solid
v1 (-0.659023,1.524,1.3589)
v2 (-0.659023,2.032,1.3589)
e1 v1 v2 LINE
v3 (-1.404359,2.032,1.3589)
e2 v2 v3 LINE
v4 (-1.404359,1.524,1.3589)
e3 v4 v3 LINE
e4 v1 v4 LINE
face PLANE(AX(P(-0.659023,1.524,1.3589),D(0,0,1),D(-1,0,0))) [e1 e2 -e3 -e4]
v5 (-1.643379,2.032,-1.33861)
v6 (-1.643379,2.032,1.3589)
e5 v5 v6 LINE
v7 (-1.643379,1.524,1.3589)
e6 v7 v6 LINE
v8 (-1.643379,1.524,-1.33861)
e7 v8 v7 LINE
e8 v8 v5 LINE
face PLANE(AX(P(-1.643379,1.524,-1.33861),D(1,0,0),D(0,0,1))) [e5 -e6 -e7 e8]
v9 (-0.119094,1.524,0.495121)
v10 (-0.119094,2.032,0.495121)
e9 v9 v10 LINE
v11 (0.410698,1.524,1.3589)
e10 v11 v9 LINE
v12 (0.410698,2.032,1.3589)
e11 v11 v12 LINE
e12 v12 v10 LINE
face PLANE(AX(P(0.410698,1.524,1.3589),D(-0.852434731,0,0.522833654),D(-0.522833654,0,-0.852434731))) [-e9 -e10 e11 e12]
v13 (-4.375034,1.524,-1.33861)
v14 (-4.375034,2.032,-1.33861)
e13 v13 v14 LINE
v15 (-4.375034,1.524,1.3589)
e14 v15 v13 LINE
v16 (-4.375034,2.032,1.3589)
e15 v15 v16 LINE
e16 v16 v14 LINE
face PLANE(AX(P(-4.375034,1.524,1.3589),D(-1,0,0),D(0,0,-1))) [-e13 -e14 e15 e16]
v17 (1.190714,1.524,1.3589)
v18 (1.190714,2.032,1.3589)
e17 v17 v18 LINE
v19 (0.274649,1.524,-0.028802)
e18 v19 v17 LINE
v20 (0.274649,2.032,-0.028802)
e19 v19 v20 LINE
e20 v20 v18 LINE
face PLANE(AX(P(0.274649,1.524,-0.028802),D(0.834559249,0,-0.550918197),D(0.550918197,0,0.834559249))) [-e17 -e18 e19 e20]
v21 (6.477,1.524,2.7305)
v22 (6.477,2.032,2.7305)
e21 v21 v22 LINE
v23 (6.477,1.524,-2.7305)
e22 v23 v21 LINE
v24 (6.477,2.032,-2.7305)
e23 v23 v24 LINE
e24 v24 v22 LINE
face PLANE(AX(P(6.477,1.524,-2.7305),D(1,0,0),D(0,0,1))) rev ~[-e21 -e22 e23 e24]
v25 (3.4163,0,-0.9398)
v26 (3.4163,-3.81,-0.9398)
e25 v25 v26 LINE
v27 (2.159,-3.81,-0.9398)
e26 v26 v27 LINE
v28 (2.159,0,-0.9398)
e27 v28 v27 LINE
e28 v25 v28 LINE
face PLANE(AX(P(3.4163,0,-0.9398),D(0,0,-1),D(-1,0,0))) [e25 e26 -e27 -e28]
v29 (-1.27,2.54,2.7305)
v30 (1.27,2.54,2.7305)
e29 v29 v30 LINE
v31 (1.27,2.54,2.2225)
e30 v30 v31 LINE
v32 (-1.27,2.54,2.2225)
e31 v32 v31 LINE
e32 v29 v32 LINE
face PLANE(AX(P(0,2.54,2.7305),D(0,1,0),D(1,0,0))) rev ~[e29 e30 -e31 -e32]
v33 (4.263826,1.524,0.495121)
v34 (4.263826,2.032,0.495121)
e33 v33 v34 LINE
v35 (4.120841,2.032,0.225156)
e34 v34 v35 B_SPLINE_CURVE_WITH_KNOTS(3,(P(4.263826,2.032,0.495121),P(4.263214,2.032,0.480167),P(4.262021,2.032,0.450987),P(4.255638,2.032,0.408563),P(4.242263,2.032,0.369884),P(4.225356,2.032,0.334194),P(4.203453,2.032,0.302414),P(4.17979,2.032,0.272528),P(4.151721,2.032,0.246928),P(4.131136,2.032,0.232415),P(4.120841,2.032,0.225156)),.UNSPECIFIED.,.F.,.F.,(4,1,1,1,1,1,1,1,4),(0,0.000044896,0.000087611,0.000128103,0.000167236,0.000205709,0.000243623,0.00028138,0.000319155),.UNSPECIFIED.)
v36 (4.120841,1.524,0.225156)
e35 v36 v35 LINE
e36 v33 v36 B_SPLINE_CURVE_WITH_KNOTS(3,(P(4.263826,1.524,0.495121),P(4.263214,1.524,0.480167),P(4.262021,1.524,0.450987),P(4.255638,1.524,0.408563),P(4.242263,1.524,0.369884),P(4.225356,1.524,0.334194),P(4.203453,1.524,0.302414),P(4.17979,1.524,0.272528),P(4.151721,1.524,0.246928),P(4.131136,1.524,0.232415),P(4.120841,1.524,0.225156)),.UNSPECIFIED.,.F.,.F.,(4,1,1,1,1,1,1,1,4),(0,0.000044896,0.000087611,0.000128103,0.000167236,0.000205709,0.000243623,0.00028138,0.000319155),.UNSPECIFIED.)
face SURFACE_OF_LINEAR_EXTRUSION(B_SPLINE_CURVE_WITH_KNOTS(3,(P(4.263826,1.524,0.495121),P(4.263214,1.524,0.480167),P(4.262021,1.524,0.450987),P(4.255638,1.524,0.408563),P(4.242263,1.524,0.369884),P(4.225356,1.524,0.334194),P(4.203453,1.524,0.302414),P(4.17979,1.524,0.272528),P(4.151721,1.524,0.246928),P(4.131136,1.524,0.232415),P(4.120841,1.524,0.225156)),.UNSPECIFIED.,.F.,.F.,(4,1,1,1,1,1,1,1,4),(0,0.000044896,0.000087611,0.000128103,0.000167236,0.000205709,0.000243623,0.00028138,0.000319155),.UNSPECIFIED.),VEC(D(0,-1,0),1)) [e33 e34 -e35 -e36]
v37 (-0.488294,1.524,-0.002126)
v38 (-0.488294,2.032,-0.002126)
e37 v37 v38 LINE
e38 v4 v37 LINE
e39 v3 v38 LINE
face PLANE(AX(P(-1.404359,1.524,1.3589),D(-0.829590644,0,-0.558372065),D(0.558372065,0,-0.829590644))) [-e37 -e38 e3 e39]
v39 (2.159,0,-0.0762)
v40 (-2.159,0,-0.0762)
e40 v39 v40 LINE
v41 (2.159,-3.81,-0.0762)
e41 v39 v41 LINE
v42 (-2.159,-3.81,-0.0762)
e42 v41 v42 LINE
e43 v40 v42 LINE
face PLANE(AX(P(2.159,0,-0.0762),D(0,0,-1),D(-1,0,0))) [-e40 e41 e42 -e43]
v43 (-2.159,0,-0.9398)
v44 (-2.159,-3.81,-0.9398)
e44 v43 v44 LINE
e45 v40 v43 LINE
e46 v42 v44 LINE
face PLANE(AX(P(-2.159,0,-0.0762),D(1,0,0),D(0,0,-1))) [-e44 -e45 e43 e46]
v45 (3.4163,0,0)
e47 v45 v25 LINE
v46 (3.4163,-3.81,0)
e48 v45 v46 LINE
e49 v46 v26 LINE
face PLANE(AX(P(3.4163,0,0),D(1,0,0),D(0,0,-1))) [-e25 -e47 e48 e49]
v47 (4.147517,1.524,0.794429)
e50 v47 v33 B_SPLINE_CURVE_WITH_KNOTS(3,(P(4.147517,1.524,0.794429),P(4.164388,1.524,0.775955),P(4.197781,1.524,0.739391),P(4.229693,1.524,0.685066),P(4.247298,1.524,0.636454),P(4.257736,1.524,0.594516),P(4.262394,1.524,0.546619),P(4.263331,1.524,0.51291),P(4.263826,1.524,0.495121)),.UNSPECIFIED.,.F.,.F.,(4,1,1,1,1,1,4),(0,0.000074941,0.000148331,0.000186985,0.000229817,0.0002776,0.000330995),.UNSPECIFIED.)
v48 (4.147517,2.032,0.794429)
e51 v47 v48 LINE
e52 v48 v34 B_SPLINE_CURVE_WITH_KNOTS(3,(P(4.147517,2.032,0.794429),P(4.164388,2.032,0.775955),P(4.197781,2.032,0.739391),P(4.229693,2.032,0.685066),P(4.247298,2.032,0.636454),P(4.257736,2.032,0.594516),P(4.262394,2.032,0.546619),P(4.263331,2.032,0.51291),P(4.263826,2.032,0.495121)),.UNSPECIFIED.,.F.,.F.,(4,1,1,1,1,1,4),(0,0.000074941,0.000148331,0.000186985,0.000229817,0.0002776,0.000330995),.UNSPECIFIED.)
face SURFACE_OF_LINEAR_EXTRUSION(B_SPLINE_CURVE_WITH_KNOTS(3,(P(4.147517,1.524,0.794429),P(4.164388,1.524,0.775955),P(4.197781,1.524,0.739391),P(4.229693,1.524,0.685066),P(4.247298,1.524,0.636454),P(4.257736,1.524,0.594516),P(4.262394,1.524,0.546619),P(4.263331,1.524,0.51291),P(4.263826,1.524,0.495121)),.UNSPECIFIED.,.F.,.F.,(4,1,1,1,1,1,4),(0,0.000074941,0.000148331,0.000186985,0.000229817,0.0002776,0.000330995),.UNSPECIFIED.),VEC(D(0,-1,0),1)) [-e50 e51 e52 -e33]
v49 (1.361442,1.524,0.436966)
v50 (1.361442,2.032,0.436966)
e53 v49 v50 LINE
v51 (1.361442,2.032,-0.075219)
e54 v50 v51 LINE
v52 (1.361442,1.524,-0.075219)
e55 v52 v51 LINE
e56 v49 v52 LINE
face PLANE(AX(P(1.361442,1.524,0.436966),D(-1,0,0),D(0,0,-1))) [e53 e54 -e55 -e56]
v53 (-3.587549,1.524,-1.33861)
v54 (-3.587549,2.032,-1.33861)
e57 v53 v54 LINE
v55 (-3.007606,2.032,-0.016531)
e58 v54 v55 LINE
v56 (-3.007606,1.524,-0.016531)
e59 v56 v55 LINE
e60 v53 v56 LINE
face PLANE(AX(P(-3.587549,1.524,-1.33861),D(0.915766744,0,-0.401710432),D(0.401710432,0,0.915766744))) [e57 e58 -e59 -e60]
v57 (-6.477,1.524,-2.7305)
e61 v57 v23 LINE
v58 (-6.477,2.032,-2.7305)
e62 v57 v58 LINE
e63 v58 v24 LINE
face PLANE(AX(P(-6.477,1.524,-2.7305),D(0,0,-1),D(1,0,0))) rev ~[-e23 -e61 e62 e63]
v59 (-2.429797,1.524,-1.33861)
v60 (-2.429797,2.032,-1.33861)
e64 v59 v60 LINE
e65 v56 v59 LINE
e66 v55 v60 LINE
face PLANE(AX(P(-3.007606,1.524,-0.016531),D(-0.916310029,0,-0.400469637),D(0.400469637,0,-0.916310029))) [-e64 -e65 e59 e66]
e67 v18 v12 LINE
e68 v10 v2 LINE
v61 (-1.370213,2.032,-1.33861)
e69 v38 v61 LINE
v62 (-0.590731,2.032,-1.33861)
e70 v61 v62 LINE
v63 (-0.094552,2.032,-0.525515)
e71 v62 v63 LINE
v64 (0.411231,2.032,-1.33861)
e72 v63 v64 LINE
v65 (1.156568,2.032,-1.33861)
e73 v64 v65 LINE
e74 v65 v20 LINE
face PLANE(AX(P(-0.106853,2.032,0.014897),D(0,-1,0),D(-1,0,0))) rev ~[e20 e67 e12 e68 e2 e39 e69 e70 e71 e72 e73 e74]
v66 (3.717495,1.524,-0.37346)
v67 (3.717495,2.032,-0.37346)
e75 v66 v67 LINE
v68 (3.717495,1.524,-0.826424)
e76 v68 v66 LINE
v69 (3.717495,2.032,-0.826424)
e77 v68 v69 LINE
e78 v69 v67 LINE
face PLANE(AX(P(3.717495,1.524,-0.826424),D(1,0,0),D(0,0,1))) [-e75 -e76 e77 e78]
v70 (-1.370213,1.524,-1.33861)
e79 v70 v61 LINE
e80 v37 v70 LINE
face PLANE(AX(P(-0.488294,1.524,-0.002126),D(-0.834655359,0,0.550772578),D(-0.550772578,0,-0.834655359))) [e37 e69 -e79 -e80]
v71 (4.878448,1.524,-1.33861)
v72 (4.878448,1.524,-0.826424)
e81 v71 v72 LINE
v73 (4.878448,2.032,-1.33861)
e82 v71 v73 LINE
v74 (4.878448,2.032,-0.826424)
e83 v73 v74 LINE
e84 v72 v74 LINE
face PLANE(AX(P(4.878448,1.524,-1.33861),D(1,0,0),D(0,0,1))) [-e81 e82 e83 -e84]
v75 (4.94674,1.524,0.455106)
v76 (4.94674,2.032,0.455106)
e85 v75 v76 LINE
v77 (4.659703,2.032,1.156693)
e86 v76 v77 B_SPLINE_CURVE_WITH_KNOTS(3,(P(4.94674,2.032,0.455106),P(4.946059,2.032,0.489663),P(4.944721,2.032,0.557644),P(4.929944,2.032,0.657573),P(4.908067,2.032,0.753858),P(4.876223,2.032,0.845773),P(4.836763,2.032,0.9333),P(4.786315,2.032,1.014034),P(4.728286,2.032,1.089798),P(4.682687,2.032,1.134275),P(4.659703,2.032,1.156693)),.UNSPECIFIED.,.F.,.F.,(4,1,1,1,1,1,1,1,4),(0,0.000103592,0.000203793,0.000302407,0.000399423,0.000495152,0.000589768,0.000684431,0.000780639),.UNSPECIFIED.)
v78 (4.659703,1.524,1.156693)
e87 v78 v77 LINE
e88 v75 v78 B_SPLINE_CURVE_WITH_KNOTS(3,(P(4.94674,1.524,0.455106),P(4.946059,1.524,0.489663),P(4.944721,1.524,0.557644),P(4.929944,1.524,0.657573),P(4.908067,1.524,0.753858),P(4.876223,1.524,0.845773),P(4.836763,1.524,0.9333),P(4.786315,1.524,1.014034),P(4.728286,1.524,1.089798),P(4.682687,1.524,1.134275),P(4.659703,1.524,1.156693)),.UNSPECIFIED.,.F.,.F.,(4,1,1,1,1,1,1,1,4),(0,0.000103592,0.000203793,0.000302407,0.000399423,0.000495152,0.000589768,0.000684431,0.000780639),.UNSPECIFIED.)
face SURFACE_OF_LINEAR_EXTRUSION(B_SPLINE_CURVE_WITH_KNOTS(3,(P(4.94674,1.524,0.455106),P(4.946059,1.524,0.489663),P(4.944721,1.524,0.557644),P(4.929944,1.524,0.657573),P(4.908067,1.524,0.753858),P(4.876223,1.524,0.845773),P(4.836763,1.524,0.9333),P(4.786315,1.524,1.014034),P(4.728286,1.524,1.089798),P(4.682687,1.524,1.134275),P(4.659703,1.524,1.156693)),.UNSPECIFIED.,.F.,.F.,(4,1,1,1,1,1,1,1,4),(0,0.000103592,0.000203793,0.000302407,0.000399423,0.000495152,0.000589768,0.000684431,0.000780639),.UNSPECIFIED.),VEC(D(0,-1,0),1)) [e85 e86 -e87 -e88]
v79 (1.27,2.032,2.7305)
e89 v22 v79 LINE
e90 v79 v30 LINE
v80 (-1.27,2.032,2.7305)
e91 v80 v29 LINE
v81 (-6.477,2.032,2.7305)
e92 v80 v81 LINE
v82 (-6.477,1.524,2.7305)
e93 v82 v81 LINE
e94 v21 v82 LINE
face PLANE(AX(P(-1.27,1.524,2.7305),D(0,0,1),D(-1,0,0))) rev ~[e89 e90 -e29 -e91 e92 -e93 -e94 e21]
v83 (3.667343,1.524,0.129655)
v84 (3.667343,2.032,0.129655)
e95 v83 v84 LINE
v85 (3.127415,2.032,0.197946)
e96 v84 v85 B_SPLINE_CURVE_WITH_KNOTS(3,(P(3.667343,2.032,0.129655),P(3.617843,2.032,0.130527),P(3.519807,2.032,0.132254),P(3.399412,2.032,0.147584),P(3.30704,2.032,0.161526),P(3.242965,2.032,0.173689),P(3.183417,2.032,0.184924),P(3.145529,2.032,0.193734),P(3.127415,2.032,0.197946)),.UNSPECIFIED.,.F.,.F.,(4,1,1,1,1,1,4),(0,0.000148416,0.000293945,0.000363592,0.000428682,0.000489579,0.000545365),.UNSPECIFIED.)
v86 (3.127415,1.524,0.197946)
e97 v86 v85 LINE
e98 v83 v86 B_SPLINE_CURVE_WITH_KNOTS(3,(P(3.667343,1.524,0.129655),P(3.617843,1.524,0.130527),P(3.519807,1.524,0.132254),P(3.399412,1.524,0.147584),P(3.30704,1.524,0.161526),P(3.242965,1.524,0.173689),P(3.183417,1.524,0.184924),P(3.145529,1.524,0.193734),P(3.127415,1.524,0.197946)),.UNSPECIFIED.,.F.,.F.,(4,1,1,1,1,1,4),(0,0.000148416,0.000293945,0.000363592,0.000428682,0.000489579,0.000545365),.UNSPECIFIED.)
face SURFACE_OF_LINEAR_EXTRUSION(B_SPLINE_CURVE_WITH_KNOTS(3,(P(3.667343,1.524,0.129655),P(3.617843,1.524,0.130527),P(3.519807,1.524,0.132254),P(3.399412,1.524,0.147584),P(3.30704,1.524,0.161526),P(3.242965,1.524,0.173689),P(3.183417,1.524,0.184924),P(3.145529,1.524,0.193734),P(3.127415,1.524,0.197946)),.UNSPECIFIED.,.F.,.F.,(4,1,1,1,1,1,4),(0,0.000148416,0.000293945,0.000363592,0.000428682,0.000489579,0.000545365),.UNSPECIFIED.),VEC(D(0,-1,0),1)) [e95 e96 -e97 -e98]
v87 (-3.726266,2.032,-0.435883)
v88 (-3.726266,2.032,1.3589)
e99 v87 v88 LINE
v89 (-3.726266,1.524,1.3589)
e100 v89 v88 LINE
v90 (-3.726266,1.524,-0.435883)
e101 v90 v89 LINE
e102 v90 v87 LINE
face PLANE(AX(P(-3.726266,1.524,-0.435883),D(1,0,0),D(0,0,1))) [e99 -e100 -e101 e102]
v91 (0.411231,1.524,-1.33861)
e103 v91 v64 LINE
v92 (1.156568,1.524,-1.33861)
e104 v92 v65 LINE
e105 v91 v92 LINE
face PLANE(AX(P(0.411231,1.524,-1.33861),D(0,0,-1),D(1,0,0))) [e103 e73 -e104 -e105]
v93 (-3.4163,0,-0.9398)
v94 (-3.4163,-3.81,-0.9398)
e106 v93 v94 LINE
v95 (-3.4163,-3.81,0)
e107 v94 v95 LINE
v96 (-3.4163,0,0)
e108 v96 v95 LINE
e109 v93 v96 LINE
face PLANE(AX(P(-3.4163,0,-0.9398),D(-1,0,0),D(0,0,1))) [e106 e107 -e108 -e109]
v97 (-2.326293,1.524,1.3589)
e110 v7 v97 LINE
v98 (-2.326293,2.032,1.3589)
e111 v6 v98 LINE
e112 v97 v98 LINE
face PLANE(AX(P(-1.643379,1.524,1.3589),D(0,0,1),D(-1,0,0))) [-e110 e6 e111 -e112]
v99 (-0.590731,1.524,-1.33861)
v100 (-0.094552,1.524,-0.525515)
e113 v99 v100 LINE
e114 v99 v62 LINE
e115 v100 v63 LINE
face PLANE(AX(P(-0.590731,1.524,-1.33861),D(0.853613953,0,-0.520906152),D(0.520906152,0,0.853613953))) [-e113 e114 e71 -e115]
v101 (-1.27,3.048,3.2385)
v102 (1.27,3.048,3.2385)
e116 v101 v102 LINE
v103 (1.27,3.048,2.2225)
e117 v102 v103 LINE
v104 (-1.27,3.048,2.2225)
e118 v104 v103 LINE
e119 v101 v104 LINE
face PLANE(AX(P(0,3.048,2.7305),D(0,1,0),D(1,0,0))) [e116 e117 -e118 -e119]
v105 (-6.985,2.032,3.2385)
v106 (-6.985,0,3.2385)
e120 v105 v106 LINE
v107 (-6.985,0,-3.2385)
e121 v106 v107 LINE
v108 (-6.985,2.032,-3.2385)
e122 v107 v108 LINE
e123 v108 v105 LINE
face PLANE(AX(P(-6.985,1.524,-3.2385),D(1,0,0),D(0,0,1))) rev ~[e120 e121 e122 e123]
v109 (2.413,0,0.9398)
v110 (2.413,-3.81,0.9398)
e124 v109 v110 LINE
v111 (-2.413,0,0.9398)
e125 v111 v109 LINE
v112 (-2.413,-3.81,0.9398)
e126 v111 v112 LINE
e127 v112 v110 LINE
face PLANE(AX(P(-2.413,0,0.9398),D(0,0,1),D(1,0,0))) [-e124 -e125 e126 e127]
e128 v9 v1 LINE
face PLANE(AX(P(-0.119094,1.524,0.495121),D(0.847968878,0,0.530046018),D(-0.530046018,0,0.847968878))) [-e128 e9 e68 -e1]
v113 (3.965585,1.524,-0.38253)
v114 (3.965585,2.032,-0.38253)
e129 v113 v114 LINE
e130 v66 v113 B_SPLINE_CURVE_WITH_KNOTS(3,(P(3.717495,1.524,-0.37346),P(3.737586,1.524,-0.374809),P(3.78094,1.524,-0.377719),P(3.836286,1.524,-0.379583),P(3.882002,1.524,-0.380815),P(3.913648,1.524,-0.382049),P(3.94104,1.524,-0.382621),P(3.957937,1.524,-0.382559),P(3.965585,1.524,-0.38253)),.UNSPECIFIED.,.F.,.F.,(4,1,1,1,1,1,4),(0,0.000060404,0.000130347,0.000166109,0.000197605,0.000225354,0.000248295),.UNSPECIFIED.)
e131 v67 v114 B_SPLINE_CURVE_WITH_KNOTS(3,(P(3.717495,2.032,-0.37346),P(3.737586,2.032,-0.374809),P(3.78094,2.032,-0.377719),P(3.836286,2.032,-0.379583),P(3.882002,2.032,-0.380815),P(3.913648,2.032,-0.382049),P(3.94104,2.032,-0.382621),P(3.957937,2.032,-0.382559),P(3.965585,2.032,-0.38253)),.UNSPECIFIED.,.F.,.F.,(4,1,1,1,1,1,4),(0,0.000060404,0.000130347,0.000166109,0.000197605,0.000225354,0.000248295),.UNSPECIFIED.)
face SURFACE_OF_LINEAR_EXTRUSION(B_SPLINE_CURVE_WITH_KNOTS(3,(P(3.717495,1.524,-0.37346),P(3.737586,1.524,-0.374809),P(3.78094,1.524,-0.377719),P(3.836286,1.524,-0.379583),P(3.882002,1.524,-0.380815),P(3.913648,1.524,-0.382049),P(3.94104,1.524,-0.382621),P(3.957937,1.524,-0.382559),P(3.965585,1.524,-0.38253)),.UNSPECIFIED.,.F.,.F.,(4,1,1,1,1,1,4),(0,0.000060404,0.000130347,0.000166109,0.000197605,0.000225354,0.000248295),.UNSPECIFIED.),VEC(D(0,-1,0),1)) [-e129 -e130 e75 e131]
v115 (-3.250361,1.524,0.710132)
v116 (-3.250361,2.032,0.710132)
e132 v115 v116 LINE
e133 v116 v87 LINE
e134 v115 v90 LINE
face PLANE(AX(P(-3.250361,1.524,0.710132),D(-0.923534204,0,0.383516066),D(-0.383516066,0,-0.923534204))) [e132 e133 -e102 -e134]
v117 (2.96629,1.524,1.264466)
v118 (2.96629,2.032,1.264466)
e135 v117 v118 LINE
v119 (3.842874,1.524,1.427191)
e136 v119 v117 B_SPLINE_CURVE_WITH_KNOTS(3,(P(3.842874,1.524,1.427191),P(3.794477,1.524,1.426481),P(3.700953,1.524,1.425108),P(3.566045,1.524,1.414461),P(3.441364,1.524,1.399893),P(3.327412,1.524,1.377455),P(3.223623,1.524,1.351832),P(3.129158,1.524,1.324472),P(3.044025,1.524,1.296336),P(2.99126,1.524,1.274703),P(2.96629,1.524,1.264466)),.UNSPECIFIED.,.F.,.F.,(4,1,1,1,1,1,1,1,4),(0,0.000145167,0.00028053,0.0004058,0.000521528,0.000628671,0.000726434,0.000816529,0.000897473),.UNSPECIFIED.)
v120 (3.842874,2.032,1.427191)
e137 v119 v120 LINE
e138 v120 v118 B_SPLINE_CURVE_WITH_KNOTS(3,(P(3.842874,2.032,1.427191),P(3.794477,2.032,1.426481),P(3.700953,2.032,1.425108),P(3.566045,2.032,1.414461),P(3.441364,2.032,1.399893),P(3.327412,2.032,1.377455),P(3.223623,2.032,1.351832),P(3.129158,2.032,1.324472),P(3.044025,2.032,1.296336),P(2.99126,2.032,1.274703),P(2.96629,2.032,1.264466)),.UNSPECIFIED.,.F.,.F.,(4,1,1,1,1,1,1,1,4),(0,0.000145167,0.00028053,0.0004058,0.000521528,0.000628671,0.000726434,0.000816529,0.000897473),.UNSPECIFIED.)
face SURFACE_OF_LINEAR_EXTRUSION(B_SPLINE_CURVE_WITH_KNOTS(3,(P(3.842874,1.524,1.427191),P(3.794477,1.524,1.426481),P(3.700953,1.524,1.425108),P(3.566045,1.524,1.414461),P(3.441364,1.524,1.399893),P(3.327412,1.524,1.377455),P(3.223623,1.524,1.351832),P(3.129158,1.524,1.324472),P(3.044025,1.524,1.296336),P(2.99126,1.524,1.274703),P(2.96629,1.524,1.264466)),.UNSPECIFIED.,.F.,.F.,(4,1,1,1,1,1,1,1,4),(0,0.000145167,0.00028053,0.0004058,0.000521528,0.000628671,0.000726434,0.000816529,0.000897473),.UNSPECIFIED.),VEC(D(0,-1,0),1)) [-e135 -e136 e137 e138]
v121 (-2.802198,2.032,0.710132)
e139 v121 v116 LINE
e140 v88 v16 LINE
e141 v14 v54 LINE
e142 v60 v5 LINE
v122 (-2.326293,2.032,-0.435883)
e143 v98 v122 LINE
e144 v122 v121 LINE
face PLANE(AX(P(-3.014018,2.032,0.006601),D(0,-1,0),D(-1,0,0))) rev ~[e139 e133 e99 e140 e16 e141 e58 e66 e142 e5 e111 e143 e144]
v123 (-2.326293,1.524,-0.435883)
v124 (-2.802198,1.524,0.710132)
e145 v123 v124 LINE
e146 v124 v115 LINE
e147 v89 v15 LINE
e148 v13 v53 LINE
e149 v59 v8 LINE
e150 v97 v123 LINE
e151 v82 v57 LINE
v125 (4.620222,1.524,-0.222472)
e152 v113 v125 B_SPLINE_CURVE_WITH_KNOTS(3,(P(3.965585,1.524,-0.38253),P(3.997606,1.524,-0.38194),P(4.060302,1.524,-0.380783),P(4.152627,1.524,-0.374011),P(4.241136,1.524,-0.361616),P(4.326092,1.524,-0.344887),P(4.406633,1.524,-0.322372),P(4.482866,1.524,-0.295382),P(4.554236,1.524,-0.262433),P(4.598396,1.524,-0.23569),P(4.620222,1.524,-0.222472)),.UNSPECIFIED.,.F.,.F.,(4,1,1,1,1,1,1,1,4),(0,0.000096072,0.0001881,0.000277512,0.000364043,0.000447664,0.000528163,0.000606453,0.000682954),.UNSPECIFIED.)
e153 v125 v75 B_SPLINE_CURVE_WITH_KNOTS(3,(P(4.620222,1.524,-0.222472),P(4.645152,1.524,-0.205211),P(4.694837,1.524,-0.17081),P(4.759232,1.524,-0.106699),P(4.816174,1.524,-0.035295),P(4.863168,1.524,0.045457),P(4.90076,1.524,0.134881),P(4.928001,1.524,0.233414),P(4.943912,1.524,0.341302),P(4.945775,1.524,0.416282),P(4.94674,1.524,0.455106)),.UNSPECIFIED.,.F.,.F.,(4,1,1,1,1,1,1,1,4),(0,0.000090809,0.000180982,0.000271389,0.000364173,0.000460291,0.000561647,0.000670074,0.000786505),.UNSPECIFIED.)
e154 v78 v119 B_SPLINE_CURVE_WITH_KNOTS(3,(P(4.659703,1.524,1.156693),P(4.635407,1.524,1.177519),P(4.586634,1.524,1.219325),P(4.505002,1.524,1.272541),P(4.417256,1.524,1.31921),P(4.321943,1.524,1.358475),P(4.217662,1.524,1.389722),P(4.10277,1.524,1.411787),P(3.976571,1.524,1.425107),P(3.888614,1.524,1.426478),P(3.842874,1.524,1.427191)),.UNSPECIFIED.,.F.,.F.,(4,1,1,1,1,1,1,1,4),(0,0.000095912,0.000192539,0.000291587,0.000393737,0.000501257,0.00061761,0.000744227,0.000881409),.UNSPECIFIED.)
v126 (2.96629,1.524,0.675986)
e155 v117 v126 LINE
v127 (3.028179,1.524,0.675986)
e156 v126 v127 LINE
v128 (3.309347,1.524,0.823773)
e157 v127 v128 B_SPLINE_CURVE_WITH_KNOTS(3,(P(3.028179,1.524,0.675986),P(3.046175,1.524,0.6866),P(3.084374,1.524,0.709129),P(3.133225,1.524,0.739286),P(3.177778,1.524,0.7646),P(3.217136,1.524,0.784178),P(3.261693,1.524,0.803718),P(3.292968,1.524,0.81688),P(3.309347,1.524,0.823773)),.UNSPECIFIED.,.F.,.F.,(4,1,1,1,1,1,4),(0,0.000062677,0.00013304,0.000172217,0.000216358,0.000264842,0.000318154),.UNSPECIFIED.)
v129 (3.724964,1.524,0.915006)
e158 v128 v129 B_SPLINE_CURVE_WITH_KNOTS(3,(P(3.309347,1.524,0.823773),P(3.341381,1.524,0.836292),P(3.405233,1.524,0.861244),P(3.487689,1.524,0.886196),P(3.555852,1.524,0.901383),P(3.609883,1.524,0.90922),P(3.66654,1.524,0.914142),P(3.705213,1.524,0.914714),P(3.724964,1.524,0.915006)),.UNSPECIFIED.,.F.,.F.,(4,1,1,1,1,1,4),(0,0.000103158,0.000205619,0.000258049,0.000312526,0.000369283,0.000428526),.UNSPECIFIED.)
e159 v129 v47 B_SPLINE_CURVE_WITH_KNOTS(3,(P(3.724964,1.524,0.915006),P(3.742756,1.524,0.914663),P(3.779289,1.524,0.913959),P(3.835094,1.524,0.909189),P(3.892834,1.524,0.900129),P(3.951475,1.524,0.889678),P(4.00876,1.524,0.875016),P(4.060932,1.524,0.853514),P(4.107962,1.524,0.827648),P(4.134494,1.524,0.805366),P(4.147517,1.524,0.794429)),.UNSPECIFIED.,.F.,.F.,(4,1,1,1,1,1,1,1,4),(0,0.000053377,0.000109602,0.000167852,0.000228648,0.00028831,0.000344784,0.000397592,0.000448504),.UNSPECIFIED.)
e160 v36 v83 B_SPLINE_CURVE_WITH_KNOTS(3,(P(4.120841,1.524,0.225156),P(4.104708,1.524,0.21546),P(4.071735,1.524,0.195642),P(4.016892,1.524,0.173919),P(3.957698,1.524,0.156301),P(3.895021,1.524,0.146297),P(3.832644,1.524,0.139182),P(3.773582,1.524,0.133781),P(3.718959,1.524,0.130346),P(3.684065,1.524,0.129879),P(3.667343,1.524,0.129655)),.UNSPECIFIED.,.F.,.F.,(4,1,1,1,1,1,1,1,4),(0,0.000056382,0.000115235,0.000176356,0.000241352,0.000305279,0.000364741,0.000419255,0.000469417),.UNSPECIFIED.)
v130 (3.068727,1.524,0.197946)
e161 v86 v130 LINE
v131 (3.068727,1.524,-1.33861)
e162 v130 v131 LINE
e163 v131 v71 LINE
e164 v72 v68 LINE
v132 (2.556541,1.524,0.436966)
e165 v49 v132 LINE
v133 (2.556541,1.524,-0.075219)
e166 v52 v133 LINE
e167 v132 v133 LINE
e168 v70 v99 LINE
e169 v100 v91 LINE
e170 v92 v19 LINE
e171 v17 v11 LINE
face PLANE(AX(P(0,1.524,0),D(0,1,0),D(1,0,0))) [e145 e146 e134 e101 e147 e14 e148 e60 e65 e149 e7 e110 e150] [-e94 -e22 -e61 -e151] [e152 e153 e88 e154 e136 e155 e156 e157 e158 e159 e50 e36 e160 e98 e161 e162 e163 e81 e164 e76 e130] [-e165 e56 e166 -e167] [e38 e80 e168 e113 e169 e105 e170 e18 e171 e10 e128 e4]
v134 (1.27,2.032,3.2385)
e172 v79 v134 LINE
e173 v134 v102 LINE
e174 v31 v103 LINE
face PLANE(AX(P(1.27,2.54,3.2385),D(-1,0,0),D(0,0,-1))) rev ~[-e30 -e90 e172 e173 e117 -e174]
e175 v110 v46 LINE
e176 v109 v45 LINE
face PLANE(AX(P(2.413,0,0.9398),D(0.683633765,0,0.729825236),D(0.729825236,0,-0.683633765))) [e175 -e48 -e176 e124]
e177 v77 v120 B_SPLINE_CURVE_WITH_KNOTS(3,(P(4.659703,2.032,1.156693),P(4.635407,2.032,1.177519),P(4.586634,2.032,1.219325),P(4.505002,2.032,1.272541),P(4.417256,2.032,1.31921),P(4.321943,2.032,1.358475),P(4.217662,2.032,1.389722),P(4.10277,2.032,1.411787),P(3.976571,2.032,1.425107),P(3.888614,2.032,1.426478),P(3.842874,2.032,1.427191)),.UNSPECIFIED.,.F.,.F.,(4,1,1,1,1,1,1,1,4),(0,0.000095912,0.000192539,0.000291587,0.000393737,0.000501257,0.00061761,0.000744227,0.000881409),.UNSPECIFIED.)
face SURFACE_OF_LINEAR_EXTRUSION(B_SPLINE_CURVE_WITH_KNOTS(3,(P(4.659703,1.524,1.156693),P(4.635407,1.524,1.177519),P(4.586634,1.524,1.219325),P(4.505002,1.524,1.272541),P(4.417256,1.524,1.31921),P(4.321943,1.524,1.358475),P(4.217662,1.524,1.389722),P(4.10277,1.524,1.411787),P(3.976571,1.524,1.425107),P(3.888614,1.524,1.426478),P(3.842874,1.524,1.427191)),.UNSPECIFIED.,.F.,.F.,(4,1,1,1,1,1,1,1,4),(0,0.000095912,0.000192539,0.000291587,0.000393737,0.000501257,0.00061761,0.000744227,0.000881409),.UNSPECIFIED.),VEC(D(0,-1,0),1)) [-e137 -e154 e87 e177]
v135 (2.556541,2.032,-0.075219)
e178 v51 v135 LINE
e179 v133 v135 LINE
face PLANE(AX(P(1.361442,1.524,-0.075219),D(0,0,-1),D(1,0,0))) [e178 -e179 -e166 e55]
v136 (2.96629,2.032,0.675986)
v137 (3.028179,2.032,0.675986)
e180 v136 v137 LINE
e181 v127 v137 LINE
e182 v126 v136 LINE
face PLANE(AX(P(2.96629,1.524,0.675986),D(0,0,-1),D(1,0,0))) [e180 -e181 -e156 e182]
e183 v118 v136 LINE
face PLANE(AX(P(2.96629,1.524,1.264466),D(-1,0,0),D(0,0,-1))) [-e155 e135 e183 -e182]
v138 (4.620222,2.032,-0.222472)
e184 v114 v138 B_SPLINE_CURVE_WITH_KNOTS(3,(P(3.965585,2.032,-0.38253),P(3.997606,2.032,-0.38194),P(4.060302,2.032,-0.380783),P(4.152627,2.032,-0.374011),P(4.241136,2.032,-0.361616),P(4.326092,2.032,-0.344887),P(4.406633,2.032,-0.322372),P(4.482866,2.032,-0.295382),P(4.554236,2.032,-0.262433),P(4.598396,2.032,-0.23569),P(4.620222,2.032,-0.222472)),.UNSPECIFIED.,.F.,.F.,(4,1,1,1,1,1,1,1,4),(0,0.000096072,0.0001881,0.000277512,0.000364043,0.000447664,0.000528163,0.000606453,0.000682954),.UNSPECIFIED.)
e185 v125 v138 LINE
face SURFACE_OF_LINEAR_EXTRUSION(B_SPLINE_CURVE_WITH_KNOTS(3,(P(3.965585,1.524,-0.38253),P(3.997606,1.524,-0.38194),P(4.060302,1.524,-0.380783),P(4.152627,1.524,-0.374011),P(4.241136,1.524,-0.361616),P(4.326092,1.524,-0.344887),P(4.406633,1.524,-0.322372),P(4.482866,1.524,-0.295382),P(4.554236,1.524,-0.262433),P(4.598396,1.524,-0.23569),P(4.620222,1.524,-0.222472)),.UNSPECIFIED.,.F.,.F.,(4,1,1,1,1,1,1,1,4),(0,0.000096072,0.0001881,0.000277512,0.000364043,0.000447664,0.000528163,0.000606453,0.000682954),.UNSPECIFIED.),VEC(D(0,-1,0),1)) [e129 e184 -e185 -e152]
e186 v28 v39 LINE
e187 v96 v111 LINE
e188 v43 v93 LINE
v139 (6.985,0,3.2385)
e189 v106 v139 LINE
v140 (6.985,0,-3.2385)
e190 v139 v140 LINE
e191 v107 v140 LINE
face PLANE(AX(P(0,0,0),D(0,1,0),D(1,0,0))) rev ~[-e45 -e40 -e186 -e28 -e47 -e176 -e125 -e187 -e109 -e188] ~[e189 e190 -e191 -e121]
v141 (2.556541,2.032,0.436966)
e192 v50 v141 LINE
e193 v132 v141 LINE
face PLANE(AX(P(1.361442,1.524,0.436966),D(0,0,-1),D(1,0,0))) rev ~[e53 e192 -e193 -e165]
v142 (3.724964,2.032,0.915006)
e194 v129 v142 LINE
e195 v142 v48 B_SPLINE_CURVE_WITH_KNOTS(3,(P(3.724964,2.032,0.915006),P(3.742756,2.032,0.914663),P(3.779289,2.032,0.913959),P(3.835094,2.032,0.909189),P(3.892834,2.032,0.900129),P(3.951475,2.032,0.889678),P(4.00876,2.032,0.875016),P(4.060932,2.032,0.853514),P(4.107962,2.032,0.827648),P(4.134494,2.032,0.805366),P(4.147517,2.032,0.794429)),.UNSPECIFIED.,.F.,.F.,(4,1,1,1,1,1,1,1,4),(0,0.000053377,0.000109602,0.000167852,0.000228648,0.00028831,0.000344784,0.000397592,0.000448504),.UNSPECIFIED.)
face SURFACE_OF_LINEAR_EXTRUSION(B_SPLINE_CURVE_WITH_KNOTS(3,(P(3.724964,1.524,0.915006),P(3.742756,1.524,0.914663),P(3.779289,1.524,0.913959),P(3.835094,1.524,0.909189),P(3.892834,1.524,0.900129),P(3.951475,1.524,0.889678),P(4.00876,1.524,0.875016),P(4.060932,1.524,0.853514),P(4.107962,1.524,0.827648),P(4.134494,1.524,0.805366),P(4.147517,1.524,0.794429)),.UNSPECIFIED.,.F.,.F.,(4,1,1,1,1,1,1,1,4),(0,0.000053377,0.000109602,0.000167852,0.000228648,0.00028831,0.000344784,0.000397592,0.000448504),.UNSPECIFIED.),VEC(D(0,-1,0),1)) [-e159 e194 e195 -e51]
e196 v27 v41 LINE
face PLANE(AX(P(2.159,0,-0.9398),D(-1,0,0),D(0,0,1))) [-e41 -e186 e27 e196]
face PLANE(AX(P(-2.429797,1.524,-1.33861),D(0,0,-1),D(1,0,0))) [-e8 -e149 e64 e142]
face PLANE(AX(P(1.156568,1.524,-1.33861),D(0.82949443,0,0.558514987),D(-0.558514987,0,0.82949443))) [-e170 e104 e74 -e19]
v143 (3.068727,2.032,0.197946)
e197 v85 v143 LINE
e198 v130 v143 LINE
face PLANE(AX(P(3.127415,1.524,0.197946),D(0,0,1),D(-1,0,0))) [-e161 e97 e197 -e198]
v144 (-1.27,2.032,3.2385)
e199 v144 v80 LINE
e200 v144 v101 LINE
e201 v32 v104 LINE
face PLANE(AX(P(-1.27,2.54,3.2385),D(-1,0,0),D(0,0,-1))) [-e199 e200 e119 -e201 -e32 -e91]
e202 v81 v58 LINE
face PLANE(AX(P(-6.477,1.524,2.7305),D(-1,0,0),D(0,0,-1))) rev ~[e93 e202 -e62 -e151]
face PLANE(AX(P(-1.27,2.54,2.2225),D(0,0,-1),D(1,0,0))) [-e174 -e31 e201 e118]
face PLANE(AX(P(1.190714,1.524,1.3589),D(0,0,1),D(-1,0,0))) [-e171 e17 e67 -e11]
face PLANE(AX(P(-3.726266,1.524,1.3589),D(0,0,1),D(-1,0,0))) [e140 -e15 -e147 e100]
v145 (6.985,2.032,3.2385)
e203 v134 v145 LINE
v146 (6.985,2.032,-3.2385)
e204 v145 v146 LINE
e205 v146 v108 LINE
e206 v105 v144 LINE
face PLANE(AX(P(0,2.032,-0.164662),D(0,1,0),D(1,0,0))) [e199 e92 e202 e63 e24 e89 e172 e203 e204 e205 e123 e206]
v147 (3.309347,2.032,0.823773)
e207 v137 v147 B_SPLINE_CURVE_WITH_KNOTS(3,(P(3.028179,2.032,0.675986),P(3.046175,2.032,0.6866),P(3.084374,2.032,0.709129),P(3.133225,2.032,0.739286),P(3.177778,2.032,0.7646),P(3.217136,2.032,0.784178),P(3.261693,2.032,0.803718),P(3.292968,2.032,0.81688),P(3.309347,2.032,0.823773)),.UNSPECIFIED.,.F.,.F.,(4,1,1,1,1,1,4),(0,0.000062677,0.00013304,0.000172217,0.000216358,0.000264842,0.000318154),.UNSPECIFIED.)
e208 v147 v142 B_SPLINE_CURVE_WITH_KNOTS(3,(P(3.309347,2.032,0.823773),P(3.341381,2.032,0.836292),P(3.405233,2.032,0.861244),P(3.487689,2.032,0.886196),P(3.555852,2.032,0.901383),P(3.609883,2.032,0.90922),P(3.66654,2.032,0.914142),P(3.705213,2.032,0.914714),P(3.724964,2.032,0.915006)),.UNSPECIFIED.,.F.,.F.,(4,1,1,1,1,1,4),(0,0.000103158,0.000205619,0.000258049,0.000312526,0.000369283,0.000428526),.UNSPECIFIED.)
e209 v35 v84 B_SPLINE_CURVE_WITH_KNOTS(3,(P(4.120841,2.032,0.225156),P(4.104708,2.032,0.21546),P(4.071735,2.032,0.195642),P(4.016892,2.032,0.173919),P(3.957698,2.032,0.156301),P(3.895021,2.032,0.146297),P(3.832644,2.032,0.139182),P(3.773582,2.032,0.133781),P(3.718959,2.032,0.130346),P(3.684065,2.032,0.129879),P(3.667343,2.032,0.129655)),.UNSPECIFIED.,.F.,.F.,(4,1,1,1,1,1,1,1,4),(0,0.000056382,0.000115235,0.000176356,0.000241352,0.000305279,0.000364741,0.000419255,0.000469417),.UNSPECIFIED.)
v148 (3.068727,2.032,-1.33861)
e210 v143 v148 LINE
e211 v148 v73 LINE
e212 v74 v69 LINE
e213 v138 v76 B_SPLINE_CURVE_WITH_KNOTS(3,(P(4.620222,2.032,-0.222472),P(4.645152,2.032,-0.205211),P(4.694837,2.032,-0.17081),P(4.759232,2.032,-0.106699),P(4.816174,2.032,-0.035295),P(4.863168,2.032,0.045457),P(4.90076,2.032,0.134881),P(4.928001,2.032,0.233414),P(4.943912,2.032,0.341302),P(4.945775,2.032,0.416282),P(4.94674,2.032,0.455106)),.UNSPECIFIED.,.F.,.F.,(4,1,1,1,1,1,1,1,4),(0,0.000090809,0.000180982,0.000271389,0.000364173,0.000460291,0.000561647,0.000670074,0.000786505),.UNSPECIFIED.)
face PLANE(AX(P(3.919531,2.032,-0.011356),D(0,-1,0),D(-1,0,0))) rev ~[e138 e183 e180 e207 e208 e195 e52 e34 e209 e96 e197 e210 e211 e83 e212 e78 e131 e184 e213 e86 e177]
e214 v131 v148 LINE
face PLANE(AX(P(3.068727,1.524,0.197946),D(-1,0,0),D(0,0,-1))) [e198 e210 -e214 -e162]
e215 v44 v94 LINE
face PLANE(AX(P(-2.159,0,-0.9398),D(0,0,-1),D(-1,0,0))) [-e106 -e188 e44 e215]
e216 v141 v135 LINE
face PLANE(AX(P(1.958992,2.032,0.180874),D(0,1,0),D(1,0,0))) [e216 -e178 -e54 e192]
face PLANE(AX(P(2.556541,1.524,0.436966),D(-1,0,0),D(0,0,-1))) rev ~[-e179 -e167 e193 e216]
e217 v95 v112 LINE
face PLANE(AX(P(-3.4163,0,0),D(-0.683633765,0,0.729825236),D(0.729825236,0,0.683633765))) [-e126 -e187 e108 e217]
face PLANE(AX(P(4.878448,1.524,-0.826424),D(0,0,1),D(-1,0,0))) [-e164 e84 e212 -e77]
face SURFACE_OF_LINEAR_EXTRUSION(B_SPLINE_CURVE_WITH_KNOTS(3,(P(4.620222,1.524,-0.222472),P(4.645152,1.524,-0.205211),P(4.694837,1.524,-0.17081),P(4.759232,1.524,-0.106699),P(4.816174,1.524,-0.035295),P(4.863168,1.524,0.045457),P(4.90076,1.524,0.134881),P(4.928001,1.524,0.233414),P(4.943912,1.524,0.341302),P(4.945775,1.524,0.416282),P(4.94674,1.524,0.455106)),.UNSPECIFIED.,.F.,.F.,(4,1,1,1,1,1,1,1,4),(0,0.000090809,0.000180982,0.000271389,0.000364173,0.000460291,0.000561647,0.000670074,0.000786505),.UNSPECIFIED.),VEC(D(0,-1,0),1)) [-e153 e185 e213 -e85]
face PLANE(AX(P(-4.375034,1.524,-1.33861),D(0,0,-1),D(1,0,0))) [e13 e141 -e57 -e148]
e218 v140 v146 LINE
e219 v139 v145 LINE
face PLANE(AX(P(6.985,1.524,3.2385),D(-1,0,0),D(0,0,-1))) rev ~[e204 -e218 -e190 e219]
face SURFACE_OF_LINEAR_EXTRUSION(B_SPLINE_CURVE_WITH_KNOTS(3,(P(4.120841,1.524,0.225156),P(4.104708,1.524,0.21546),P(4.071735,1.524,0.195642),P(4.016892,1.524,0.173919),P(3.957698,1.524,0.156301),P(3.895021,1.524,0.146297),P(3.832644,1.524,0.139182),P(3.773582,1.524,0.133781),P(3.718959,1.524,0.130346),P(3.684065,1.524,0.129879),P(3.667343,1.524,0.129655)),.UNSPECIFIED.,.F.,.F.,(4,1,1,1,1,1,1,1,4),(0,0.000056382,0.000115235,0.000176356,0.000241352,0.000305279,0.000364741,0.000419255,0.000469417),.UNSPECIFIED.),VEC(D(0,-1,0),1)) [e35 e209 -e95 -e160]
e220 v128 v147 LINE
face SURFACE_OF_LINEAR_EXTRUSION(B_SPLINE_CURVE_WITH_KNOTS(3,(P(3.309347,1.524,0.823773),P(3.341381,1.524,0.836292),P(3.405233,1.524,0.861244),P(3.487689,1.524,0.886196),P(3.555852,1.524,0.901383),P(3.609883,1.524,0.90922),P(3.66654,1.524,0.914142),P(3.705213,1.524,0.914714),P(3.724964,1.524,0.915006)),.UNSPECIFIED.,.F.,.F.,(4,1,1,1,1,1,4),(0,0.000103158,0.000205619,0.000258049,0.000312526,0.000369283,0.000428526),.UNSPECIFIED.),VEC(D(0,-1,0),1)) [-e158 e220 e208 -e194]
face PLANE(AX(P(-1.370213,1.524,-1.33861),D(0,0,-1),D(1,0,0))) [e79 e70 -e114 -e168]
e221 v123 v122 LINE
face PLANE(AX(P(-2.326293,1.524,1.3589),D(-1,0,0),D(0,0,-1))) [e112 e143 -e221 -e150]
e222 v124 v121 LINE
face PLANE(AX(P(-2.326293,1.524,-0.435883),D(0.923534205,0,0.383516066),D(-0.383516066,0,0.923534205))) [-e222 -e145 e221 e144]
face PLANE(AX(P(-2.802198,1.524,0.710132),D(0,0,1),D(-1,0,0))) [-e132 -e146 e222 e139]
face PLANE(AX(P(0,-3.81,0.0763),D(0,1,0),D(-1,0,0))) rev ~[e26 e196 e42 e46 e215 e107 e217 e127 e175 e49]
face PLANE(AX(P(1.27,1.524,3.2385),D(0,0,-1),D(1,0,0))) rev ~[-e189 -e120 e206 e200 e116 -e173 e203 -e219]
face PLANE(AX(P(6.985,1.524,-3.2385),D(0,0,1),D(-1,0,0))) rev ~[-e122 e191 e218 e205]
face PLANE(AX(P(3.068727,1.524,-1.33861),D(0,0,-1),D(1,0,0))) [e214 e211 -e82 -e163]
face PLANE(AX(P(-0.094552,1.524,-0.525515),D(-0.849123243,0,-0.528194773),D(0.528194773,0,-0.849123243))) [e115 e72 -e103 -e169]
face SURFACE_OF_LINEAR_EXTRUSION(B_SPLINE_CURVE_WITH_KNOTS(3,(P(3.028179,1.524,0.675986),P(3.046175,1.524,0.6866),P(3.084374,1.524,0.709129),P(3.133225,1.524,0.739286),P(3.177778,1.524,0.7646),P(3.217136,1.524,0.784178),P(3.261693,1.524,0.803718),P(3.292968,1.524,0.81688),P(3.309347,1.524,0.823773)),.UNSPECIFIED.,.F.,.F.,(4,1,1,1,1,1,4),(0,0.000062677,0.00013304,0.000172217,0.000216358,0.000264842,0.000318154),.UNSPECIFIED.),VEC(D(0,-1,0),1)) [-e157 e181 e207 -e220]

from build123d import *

# Parameters (mm, degrees)
SKETCH1_W           = 13.97
SKETCH1_H           = 6.477
BOSS_EXTRUDE1_DEPTH = 1.524
SKETCH2_W           = 2.54
SKETCH2_H           = 0.508
BOSS_EXTRUDE2_DEPTH = 1.016
SKETCH3_W           = 2.54
SKETCH3_H           = 1.016
BOSS_EXTRUDE3_DEPTH = 0.508
BOSS_EXTRUDE4_DEPTH = 0.508
SKETCH5_W           = 1.195099264
SKETCH5_H           = 0.512185399
BOSS_EXTRUDE5_DEPTH = 0.508
BOSS_EXTRUDE6_DEPTH = 3.81


with BuildPart() as part:
    # Sketch1 → Boss-Extrude1 (new body)
    with BuildSketch(Plane(origin=(0, 0, 0), x_dir=(1, 0, 0), z_dir=(0, 1, 0))):
        Rectangle(SKETCH1_W, SKETCH1_H)
    extrude(amount=BOSS_EXTRUDE1_DEPTH)

    # Sketch2 → Boss-Extrude2 (add)
    with BuildSketch(Plane(origin=(0, 1.524, 0), x_dir=(1, 0, 0), z_dir=(0, 1, 0))):
        with Locations((0, -2.9845)):
            Rectangle(SKETCH2_W, SKETCH2_H)
    extrude(amount=BOSS_EXTRUDE2_DEPTH)

    # Sketch3 → Boss-Extrude3 (add)
    with BuildSketch(Plane(origin=(0, 2.54, 0), x_dir=(1, 0, 0), z_dir=(0, 1, 0))):
        with Locations((0, -2.7305)):
            Rectangle(SKETCH3_W, SKETCH3_H)
    extrude(amount=BOSS_EXTRUDE3_DEPTH)

    # Sketch4 → Boss-Extrude4 (add)
    with BuildSketch(Plane(origin=(0, 1.524, 0), x_dir=(1, 0, 0), z_dir=(0, 1, 0))):
        Polygon((-6.477, -2.7305), (-6.477, 2.7305), (6.477, 2.7305), (6.477, -2.7305), (1.27, -2.7305), (1.27, -3.2385), (6.985, -3.2385), (6.985, 3.2385), (-6.985, 3.2385), (-6.985, -3.2385), (-1.27, -3.2385), (-1.27, -2.7305), align=None)
    extrude(amount=BOSS_EXTRUDE4_DEPTH)

    # Sketch5 → Boss-Extrude5 (add)
    with BuildSketch(Plane(origin=(0, 1.524, 0), x_dir=(1, 0, 0), z_dir=(0, 1, 0))):
        Polygon((-1.643378995, -1.3589), (-2.32629286, -1.3589), (-2.32629286, 0.435883001), (-2.802198459, -0.710131829), (-3.250360683, -0.710131829), (-3.726266283, 0.435883001), (-3.726266283, -1.3589), (-4.375034454, -1.3589), (-4.375034454, 1.338609766), (-3.587549404, 1.338609766), (-3.007606145, 0.016531206), (-2.429796993, 1.338609766), (-1.643378995, 1.338609766), align=None)
        Polygon((1.190713543, -1.3589), (0.410697863, -1.3589), (-0.119093908, -0.495120666), (-0.659022682, -1.3589), (-1.404359143, -1.3589), (-0.488294216, 0.002125991), (-1.370213449, 1.338609766), (-0.590731296, 1.338609766), (-0.094551691, 0.525515445), (0.41123139, 1.338609766), (1.15656785, 1.338609766), (0.274648617, 0.028802314), align=None)
        with Locations((1.958991641, -0.180873583)):
            Rectangle(SKETCH5_W, SKETCH5_H)
        with BuildLine():
            add(Edge.make_bspline(
                [(4.946739799, -0.455106182), (4.94605947, -0.489662616), (4.944721084, -0.557644192), (4.929944432, -0.657573198), (4.908066939, -0.753857587), (4.87622275, -0.845773262), (4.83676263, -0.933299855), (4.786314976, -1.014033908), (4.728286007, -1.089798027), (4.682686747, -1.134274984), (4.659702565, -1.156693473)],
                knots=[0, 0, 0, 0, 0.000103592, 0.000203793, 0.000302407, 0.000399423, 0.000495152, 0.000589768, 0.000684431, 0.000780639, 0.000780639, 0.000780639, 0.000780639], degree=3))
            add(Edge.make_bspline(
                [(4.659702565, -1.156693473), (4.635406854, -1.177518935), (4.586634173, -1.219325227), (4.505001964, -1.272541327), (4.417255575, -1.319210004), (4.321943242, -1.358475376), (4.21766177, -1.389721666), (4.102769549, -1.411786565), (3.976570704, -1.42510693), (3.888613592, -1.426478259), (3.84287356, -1.427191386)],
                knots=[0, 0, 0, 0, 9.5912e-05, 0.000192539, 0.000291587, 0.000393737, 0.000501257, 0.00061761, 0.000744227, 0.000881409, 0.000881409, 0.000881409, 0.000881409], degree=3))
            add(Edge.make_bspline(
                [(3.84287356, -1.427191386), (3.794477078, -1.426480894), (3.700952929, -1.425107899), (3.566044943, -1.41446127), (3.441363909, -1.399893023), (3.327411732, -1.377455404), (3.223622789, -1.351832076), (3.129158438, -1.324471539), (3.044025447, -1.296336264), (2.991260446, -1.274703465), (2.966289592, -1.264465817)],
                knots=[0, 0, 0, 0, 0.000145167, 0.00028053, 0.0004058, 0.000521528, 0.000628671, 0.000726434, 0.000816529, 0.000897473, 0.000897473, 0.000897473, 0.000897473], degree=3))
            Line((2.966289592, -1.264465817), (2.966289592, -0.675986135))
            Line((2.966289592, -0.675986135), (3.028178661, -0.675986135))
            add(Edge.make_bspline(
                [(3.028178661, -0.675986135), (3.0461748, -0.686599796), (3.084373728, -0.709128543), (3.133224942, -0.739286447), (3.177777625, -0.764600081), (3.217135707, -0.784178099), (3.261692934, -0.803718246), (3.292967822, -0.816879929), (3.309347103, -0.823772964)],
                knots=[0, 0, 0, 0, 6.2677e-05, 0.00013304, 0.000172217, 0.000216358, 0.000264842, 0.000318154, 0.000318154, 0.000318154, 0.000318154], degree=3))
            add(Edge.make_bspline(
                [(3.309347103, -0.823772964), (3.34138122, -0.83629162), (3.405232789, -0.861244261), (3.487688702, -0.886196407), (3.555852103, -0.901383164), (3.609882629, -0.909220124), (3.666539884, -0.91414204), (3.705213193, -0.91471392), (3.724964213, -0.915005988)],
                knots=[0, 0, 0, 0, 0.000103158, 0.000205619, 0.000258049, 0.000312526, 0.000369283, 0.000428526, 0.000428526, 0.000428526, 0.000428526], degree=3))
            add(Edge.make_bspline(
                [(3.724964213, -0.915005988), (3.742755847, -0.914663026), (3.779288763, -0.913958795), (3.835093925, -0.909188759), (3.892833649, -0.900129367), (3.951474932, -0.889677579), (4.008759587, -0.875016308), (4.060932423, -0.853514292), (4.107961529, -0.827647814), (4.134493655, -0.805366147), (4.147517167, -0.794429009)],
                knots=[0, 0, 0, 0, 5.3377e-05, 0.000109602, 0.000167852, 0.000228648, 0.00028831, 0.000344784, 0.000397592, 0.000448504, 0.000448504, 0.000448504, 0.000448504], degree=3))
            add(Edge.make_bspline(
                [(4.147517167, -0.794429009), (4.164388109, -0.775955433), (4.197780925, -0.73939051), (4.229692696, -0.685066402), (4.247298267, -0.63645426), (4.257736249, -0.594516462), (4.262394262, -0.546619491), (4.263331382, -0.512910261), (4.263825935, -0.495120666)],
                knots=[0, 0, 0, 0, 7.4941e-05, 0.000148331, 0.000186985, 0.000229817, 0.0002776, 0.000330995, 0.000330995, 0.000330995, 0.000330995], degree=3))
            add(Edge.make_bspline(
                [(4.263825935, -0.495120666), (4.263214375, -0.480167371), (4.262020954, -0.450986903), (4.255637945, -0.408563008), (4.242263097, -0.36988429), (4.225355871, -0.334193666), (4.203453064, -0.30241436), (4.179789927, -0.272527925), (4.151721285, -0.246927559), (4.131136036, -0.232414579), (4.120840844, -0.225156279)],
                knots=[0, 0, 0, 0, 4.4896e-05, 8.7611e-05, 0.000128103, 0.000167236, 0.000205709, 0.000243623, 0.00028138, 0.000319155, 0.000319155, 0.000319155, 0.000319155], degree=3))
            add(Edge.make_bspline(
                [(4.120840844, -0.225156279), (4.104707777, -0.21545969), (4.071734836, -0.195641694), (4.016892486, -0.17391933), (3.957698389, -0.156300514), (3.895021078, -0.146296935), (3.832643779, -0.139181726), (3.773581815, -0.133780992), (3.718958649, -0.130345567), (3.684064997, -0.12987875), (3.667343356, -0.129655044)],
                knots=[0, 0, 0, 0, 5.6382e-05, 0.000115235, 0.000176356, 0.000241352, 0.000305279, 0.000364741, 0.000419255, 0.000469417, 0.000469417, 0.000469417, 0.000469417], degree=3))
            add(Edge.make_bspline(
                [(3.667343356, -0.129655044), (3.617843369, -0.130527073), (3.519806509, -0.132254165), (3.39941227, -0.147583805), (3.307040027, -0.161526065), (3.242965144, -0.173689398), (3.18341676, -0.184924031), (3.145528801, -0.193734262), (3.127414582, -0.19794643)],
                knots=[0, 0, 0, 0, 0.000148416, 0.000293945, 0.000363592, 0.000428682, 0.000489579, 0.000545365, 0.000545365, 0.000545365, 0.000545365], degree=3))
            Line((3.127414582, -0.19794643), (3.068726671, -0.19794643))
            Line((3.068726671, -0.19794643), (3.068726671, 1.338609766))
            Line((3.068726671, 1.338609766), (4.878448413, 1.338609766))
            Line((4.878448413, 1.338609766), (4.878448413, 0.826424367))
            Line((4.878448413, 0.826424367), (3.717494843, 0.826424367))
            Line((3.717494843, 0.826424367), (3.717494843, 0.373460405))
            add(Edge.make_bspline(
                [(3.717494843, 0.373460405), (3.737585525, 0.374808914), (3.780939543, 0.377718884), (3.836285807, 0.379582643), (3.882002433, 0.380815422), (3.913647804, 0.38204891), (3.941040243, 0.382621495), (3.957937284, 0.382558752), (3.965584645, 0.382530355)],
                knots=[0, 0, 0, 0, 6.0404e-05, 0.000130347, 0.000166109, 0.000197605, 0.000225354, 0.000248295, 0.000248295, 0.000248295, 0.000248295], degree=3))
            add(Edge.make_bspline(
                [(3.965584645, 0.382530355), (3.997606389, 0.381939784), (4.060302129, 0.380783498), (4.152627332, 0.374010631), (4.24113585, 0.361615555), (4.326092456, 0.344887486), (4.40663311, 0.322371742), (4.482865869, 0.295381841), (4.554235733, 0.262433225), (4.598396472, 0.235689641), (4.620221608, 0.222472418)],
                knots=[0, 0, 0, 0, 9.6072e-05, 0.0001881, 0.000277512, 0.000364043, 0.000447664, 0.000528163, 0.000606453, 0.000682954, 0.000682954, 0.000682954, 0.000682954], degree=3))
            add(Edge.make_bspline(
                [(4.620221608, 0.222472418), (4.64515183, 0.205211361), (4.6948374, 0.170810326), (4.759231976, 0.10669888), (4.816173661, 0.035295495), (4.863168477, -0.045457051), (4.900760282, -0.134880977), (4.928000594, -0.233413985), (4.943911899, -0.341302226), (4.945775058, -0.416281835), (4.946739799, -0.455106182)],
                knots=[0, 0, 0, 0, 9.0809e-05, 0.000180982, 0.000271389, 0.000364173, 0.000460291, 0.000561647, 0.000670074, 0.000786505, 0.000786505, 0.000786505, 0.000786505], degree=3))
        make_face()
    extrude(amount=BOSS_EXTRUDE5_DEPTH)

    # Sketch6 → Boss-Extrude6 (add)
    with BuildSketch(Plane.XZ):
        Polygon((-3.4163, 0), (-2.413, 0.9398), (2.413, 0.9398), (3.4163, 0), (3.4163, -0.9398), (2.159, -0.9398), (2.159, -0.0762), (-2.159, -0.0762), (-2.159, -0.9398), (-3.4163, -0.9398), align=None)
    extrude(amount=BOSS_EXTRUDE6_DEPTH)


solid = part.part
